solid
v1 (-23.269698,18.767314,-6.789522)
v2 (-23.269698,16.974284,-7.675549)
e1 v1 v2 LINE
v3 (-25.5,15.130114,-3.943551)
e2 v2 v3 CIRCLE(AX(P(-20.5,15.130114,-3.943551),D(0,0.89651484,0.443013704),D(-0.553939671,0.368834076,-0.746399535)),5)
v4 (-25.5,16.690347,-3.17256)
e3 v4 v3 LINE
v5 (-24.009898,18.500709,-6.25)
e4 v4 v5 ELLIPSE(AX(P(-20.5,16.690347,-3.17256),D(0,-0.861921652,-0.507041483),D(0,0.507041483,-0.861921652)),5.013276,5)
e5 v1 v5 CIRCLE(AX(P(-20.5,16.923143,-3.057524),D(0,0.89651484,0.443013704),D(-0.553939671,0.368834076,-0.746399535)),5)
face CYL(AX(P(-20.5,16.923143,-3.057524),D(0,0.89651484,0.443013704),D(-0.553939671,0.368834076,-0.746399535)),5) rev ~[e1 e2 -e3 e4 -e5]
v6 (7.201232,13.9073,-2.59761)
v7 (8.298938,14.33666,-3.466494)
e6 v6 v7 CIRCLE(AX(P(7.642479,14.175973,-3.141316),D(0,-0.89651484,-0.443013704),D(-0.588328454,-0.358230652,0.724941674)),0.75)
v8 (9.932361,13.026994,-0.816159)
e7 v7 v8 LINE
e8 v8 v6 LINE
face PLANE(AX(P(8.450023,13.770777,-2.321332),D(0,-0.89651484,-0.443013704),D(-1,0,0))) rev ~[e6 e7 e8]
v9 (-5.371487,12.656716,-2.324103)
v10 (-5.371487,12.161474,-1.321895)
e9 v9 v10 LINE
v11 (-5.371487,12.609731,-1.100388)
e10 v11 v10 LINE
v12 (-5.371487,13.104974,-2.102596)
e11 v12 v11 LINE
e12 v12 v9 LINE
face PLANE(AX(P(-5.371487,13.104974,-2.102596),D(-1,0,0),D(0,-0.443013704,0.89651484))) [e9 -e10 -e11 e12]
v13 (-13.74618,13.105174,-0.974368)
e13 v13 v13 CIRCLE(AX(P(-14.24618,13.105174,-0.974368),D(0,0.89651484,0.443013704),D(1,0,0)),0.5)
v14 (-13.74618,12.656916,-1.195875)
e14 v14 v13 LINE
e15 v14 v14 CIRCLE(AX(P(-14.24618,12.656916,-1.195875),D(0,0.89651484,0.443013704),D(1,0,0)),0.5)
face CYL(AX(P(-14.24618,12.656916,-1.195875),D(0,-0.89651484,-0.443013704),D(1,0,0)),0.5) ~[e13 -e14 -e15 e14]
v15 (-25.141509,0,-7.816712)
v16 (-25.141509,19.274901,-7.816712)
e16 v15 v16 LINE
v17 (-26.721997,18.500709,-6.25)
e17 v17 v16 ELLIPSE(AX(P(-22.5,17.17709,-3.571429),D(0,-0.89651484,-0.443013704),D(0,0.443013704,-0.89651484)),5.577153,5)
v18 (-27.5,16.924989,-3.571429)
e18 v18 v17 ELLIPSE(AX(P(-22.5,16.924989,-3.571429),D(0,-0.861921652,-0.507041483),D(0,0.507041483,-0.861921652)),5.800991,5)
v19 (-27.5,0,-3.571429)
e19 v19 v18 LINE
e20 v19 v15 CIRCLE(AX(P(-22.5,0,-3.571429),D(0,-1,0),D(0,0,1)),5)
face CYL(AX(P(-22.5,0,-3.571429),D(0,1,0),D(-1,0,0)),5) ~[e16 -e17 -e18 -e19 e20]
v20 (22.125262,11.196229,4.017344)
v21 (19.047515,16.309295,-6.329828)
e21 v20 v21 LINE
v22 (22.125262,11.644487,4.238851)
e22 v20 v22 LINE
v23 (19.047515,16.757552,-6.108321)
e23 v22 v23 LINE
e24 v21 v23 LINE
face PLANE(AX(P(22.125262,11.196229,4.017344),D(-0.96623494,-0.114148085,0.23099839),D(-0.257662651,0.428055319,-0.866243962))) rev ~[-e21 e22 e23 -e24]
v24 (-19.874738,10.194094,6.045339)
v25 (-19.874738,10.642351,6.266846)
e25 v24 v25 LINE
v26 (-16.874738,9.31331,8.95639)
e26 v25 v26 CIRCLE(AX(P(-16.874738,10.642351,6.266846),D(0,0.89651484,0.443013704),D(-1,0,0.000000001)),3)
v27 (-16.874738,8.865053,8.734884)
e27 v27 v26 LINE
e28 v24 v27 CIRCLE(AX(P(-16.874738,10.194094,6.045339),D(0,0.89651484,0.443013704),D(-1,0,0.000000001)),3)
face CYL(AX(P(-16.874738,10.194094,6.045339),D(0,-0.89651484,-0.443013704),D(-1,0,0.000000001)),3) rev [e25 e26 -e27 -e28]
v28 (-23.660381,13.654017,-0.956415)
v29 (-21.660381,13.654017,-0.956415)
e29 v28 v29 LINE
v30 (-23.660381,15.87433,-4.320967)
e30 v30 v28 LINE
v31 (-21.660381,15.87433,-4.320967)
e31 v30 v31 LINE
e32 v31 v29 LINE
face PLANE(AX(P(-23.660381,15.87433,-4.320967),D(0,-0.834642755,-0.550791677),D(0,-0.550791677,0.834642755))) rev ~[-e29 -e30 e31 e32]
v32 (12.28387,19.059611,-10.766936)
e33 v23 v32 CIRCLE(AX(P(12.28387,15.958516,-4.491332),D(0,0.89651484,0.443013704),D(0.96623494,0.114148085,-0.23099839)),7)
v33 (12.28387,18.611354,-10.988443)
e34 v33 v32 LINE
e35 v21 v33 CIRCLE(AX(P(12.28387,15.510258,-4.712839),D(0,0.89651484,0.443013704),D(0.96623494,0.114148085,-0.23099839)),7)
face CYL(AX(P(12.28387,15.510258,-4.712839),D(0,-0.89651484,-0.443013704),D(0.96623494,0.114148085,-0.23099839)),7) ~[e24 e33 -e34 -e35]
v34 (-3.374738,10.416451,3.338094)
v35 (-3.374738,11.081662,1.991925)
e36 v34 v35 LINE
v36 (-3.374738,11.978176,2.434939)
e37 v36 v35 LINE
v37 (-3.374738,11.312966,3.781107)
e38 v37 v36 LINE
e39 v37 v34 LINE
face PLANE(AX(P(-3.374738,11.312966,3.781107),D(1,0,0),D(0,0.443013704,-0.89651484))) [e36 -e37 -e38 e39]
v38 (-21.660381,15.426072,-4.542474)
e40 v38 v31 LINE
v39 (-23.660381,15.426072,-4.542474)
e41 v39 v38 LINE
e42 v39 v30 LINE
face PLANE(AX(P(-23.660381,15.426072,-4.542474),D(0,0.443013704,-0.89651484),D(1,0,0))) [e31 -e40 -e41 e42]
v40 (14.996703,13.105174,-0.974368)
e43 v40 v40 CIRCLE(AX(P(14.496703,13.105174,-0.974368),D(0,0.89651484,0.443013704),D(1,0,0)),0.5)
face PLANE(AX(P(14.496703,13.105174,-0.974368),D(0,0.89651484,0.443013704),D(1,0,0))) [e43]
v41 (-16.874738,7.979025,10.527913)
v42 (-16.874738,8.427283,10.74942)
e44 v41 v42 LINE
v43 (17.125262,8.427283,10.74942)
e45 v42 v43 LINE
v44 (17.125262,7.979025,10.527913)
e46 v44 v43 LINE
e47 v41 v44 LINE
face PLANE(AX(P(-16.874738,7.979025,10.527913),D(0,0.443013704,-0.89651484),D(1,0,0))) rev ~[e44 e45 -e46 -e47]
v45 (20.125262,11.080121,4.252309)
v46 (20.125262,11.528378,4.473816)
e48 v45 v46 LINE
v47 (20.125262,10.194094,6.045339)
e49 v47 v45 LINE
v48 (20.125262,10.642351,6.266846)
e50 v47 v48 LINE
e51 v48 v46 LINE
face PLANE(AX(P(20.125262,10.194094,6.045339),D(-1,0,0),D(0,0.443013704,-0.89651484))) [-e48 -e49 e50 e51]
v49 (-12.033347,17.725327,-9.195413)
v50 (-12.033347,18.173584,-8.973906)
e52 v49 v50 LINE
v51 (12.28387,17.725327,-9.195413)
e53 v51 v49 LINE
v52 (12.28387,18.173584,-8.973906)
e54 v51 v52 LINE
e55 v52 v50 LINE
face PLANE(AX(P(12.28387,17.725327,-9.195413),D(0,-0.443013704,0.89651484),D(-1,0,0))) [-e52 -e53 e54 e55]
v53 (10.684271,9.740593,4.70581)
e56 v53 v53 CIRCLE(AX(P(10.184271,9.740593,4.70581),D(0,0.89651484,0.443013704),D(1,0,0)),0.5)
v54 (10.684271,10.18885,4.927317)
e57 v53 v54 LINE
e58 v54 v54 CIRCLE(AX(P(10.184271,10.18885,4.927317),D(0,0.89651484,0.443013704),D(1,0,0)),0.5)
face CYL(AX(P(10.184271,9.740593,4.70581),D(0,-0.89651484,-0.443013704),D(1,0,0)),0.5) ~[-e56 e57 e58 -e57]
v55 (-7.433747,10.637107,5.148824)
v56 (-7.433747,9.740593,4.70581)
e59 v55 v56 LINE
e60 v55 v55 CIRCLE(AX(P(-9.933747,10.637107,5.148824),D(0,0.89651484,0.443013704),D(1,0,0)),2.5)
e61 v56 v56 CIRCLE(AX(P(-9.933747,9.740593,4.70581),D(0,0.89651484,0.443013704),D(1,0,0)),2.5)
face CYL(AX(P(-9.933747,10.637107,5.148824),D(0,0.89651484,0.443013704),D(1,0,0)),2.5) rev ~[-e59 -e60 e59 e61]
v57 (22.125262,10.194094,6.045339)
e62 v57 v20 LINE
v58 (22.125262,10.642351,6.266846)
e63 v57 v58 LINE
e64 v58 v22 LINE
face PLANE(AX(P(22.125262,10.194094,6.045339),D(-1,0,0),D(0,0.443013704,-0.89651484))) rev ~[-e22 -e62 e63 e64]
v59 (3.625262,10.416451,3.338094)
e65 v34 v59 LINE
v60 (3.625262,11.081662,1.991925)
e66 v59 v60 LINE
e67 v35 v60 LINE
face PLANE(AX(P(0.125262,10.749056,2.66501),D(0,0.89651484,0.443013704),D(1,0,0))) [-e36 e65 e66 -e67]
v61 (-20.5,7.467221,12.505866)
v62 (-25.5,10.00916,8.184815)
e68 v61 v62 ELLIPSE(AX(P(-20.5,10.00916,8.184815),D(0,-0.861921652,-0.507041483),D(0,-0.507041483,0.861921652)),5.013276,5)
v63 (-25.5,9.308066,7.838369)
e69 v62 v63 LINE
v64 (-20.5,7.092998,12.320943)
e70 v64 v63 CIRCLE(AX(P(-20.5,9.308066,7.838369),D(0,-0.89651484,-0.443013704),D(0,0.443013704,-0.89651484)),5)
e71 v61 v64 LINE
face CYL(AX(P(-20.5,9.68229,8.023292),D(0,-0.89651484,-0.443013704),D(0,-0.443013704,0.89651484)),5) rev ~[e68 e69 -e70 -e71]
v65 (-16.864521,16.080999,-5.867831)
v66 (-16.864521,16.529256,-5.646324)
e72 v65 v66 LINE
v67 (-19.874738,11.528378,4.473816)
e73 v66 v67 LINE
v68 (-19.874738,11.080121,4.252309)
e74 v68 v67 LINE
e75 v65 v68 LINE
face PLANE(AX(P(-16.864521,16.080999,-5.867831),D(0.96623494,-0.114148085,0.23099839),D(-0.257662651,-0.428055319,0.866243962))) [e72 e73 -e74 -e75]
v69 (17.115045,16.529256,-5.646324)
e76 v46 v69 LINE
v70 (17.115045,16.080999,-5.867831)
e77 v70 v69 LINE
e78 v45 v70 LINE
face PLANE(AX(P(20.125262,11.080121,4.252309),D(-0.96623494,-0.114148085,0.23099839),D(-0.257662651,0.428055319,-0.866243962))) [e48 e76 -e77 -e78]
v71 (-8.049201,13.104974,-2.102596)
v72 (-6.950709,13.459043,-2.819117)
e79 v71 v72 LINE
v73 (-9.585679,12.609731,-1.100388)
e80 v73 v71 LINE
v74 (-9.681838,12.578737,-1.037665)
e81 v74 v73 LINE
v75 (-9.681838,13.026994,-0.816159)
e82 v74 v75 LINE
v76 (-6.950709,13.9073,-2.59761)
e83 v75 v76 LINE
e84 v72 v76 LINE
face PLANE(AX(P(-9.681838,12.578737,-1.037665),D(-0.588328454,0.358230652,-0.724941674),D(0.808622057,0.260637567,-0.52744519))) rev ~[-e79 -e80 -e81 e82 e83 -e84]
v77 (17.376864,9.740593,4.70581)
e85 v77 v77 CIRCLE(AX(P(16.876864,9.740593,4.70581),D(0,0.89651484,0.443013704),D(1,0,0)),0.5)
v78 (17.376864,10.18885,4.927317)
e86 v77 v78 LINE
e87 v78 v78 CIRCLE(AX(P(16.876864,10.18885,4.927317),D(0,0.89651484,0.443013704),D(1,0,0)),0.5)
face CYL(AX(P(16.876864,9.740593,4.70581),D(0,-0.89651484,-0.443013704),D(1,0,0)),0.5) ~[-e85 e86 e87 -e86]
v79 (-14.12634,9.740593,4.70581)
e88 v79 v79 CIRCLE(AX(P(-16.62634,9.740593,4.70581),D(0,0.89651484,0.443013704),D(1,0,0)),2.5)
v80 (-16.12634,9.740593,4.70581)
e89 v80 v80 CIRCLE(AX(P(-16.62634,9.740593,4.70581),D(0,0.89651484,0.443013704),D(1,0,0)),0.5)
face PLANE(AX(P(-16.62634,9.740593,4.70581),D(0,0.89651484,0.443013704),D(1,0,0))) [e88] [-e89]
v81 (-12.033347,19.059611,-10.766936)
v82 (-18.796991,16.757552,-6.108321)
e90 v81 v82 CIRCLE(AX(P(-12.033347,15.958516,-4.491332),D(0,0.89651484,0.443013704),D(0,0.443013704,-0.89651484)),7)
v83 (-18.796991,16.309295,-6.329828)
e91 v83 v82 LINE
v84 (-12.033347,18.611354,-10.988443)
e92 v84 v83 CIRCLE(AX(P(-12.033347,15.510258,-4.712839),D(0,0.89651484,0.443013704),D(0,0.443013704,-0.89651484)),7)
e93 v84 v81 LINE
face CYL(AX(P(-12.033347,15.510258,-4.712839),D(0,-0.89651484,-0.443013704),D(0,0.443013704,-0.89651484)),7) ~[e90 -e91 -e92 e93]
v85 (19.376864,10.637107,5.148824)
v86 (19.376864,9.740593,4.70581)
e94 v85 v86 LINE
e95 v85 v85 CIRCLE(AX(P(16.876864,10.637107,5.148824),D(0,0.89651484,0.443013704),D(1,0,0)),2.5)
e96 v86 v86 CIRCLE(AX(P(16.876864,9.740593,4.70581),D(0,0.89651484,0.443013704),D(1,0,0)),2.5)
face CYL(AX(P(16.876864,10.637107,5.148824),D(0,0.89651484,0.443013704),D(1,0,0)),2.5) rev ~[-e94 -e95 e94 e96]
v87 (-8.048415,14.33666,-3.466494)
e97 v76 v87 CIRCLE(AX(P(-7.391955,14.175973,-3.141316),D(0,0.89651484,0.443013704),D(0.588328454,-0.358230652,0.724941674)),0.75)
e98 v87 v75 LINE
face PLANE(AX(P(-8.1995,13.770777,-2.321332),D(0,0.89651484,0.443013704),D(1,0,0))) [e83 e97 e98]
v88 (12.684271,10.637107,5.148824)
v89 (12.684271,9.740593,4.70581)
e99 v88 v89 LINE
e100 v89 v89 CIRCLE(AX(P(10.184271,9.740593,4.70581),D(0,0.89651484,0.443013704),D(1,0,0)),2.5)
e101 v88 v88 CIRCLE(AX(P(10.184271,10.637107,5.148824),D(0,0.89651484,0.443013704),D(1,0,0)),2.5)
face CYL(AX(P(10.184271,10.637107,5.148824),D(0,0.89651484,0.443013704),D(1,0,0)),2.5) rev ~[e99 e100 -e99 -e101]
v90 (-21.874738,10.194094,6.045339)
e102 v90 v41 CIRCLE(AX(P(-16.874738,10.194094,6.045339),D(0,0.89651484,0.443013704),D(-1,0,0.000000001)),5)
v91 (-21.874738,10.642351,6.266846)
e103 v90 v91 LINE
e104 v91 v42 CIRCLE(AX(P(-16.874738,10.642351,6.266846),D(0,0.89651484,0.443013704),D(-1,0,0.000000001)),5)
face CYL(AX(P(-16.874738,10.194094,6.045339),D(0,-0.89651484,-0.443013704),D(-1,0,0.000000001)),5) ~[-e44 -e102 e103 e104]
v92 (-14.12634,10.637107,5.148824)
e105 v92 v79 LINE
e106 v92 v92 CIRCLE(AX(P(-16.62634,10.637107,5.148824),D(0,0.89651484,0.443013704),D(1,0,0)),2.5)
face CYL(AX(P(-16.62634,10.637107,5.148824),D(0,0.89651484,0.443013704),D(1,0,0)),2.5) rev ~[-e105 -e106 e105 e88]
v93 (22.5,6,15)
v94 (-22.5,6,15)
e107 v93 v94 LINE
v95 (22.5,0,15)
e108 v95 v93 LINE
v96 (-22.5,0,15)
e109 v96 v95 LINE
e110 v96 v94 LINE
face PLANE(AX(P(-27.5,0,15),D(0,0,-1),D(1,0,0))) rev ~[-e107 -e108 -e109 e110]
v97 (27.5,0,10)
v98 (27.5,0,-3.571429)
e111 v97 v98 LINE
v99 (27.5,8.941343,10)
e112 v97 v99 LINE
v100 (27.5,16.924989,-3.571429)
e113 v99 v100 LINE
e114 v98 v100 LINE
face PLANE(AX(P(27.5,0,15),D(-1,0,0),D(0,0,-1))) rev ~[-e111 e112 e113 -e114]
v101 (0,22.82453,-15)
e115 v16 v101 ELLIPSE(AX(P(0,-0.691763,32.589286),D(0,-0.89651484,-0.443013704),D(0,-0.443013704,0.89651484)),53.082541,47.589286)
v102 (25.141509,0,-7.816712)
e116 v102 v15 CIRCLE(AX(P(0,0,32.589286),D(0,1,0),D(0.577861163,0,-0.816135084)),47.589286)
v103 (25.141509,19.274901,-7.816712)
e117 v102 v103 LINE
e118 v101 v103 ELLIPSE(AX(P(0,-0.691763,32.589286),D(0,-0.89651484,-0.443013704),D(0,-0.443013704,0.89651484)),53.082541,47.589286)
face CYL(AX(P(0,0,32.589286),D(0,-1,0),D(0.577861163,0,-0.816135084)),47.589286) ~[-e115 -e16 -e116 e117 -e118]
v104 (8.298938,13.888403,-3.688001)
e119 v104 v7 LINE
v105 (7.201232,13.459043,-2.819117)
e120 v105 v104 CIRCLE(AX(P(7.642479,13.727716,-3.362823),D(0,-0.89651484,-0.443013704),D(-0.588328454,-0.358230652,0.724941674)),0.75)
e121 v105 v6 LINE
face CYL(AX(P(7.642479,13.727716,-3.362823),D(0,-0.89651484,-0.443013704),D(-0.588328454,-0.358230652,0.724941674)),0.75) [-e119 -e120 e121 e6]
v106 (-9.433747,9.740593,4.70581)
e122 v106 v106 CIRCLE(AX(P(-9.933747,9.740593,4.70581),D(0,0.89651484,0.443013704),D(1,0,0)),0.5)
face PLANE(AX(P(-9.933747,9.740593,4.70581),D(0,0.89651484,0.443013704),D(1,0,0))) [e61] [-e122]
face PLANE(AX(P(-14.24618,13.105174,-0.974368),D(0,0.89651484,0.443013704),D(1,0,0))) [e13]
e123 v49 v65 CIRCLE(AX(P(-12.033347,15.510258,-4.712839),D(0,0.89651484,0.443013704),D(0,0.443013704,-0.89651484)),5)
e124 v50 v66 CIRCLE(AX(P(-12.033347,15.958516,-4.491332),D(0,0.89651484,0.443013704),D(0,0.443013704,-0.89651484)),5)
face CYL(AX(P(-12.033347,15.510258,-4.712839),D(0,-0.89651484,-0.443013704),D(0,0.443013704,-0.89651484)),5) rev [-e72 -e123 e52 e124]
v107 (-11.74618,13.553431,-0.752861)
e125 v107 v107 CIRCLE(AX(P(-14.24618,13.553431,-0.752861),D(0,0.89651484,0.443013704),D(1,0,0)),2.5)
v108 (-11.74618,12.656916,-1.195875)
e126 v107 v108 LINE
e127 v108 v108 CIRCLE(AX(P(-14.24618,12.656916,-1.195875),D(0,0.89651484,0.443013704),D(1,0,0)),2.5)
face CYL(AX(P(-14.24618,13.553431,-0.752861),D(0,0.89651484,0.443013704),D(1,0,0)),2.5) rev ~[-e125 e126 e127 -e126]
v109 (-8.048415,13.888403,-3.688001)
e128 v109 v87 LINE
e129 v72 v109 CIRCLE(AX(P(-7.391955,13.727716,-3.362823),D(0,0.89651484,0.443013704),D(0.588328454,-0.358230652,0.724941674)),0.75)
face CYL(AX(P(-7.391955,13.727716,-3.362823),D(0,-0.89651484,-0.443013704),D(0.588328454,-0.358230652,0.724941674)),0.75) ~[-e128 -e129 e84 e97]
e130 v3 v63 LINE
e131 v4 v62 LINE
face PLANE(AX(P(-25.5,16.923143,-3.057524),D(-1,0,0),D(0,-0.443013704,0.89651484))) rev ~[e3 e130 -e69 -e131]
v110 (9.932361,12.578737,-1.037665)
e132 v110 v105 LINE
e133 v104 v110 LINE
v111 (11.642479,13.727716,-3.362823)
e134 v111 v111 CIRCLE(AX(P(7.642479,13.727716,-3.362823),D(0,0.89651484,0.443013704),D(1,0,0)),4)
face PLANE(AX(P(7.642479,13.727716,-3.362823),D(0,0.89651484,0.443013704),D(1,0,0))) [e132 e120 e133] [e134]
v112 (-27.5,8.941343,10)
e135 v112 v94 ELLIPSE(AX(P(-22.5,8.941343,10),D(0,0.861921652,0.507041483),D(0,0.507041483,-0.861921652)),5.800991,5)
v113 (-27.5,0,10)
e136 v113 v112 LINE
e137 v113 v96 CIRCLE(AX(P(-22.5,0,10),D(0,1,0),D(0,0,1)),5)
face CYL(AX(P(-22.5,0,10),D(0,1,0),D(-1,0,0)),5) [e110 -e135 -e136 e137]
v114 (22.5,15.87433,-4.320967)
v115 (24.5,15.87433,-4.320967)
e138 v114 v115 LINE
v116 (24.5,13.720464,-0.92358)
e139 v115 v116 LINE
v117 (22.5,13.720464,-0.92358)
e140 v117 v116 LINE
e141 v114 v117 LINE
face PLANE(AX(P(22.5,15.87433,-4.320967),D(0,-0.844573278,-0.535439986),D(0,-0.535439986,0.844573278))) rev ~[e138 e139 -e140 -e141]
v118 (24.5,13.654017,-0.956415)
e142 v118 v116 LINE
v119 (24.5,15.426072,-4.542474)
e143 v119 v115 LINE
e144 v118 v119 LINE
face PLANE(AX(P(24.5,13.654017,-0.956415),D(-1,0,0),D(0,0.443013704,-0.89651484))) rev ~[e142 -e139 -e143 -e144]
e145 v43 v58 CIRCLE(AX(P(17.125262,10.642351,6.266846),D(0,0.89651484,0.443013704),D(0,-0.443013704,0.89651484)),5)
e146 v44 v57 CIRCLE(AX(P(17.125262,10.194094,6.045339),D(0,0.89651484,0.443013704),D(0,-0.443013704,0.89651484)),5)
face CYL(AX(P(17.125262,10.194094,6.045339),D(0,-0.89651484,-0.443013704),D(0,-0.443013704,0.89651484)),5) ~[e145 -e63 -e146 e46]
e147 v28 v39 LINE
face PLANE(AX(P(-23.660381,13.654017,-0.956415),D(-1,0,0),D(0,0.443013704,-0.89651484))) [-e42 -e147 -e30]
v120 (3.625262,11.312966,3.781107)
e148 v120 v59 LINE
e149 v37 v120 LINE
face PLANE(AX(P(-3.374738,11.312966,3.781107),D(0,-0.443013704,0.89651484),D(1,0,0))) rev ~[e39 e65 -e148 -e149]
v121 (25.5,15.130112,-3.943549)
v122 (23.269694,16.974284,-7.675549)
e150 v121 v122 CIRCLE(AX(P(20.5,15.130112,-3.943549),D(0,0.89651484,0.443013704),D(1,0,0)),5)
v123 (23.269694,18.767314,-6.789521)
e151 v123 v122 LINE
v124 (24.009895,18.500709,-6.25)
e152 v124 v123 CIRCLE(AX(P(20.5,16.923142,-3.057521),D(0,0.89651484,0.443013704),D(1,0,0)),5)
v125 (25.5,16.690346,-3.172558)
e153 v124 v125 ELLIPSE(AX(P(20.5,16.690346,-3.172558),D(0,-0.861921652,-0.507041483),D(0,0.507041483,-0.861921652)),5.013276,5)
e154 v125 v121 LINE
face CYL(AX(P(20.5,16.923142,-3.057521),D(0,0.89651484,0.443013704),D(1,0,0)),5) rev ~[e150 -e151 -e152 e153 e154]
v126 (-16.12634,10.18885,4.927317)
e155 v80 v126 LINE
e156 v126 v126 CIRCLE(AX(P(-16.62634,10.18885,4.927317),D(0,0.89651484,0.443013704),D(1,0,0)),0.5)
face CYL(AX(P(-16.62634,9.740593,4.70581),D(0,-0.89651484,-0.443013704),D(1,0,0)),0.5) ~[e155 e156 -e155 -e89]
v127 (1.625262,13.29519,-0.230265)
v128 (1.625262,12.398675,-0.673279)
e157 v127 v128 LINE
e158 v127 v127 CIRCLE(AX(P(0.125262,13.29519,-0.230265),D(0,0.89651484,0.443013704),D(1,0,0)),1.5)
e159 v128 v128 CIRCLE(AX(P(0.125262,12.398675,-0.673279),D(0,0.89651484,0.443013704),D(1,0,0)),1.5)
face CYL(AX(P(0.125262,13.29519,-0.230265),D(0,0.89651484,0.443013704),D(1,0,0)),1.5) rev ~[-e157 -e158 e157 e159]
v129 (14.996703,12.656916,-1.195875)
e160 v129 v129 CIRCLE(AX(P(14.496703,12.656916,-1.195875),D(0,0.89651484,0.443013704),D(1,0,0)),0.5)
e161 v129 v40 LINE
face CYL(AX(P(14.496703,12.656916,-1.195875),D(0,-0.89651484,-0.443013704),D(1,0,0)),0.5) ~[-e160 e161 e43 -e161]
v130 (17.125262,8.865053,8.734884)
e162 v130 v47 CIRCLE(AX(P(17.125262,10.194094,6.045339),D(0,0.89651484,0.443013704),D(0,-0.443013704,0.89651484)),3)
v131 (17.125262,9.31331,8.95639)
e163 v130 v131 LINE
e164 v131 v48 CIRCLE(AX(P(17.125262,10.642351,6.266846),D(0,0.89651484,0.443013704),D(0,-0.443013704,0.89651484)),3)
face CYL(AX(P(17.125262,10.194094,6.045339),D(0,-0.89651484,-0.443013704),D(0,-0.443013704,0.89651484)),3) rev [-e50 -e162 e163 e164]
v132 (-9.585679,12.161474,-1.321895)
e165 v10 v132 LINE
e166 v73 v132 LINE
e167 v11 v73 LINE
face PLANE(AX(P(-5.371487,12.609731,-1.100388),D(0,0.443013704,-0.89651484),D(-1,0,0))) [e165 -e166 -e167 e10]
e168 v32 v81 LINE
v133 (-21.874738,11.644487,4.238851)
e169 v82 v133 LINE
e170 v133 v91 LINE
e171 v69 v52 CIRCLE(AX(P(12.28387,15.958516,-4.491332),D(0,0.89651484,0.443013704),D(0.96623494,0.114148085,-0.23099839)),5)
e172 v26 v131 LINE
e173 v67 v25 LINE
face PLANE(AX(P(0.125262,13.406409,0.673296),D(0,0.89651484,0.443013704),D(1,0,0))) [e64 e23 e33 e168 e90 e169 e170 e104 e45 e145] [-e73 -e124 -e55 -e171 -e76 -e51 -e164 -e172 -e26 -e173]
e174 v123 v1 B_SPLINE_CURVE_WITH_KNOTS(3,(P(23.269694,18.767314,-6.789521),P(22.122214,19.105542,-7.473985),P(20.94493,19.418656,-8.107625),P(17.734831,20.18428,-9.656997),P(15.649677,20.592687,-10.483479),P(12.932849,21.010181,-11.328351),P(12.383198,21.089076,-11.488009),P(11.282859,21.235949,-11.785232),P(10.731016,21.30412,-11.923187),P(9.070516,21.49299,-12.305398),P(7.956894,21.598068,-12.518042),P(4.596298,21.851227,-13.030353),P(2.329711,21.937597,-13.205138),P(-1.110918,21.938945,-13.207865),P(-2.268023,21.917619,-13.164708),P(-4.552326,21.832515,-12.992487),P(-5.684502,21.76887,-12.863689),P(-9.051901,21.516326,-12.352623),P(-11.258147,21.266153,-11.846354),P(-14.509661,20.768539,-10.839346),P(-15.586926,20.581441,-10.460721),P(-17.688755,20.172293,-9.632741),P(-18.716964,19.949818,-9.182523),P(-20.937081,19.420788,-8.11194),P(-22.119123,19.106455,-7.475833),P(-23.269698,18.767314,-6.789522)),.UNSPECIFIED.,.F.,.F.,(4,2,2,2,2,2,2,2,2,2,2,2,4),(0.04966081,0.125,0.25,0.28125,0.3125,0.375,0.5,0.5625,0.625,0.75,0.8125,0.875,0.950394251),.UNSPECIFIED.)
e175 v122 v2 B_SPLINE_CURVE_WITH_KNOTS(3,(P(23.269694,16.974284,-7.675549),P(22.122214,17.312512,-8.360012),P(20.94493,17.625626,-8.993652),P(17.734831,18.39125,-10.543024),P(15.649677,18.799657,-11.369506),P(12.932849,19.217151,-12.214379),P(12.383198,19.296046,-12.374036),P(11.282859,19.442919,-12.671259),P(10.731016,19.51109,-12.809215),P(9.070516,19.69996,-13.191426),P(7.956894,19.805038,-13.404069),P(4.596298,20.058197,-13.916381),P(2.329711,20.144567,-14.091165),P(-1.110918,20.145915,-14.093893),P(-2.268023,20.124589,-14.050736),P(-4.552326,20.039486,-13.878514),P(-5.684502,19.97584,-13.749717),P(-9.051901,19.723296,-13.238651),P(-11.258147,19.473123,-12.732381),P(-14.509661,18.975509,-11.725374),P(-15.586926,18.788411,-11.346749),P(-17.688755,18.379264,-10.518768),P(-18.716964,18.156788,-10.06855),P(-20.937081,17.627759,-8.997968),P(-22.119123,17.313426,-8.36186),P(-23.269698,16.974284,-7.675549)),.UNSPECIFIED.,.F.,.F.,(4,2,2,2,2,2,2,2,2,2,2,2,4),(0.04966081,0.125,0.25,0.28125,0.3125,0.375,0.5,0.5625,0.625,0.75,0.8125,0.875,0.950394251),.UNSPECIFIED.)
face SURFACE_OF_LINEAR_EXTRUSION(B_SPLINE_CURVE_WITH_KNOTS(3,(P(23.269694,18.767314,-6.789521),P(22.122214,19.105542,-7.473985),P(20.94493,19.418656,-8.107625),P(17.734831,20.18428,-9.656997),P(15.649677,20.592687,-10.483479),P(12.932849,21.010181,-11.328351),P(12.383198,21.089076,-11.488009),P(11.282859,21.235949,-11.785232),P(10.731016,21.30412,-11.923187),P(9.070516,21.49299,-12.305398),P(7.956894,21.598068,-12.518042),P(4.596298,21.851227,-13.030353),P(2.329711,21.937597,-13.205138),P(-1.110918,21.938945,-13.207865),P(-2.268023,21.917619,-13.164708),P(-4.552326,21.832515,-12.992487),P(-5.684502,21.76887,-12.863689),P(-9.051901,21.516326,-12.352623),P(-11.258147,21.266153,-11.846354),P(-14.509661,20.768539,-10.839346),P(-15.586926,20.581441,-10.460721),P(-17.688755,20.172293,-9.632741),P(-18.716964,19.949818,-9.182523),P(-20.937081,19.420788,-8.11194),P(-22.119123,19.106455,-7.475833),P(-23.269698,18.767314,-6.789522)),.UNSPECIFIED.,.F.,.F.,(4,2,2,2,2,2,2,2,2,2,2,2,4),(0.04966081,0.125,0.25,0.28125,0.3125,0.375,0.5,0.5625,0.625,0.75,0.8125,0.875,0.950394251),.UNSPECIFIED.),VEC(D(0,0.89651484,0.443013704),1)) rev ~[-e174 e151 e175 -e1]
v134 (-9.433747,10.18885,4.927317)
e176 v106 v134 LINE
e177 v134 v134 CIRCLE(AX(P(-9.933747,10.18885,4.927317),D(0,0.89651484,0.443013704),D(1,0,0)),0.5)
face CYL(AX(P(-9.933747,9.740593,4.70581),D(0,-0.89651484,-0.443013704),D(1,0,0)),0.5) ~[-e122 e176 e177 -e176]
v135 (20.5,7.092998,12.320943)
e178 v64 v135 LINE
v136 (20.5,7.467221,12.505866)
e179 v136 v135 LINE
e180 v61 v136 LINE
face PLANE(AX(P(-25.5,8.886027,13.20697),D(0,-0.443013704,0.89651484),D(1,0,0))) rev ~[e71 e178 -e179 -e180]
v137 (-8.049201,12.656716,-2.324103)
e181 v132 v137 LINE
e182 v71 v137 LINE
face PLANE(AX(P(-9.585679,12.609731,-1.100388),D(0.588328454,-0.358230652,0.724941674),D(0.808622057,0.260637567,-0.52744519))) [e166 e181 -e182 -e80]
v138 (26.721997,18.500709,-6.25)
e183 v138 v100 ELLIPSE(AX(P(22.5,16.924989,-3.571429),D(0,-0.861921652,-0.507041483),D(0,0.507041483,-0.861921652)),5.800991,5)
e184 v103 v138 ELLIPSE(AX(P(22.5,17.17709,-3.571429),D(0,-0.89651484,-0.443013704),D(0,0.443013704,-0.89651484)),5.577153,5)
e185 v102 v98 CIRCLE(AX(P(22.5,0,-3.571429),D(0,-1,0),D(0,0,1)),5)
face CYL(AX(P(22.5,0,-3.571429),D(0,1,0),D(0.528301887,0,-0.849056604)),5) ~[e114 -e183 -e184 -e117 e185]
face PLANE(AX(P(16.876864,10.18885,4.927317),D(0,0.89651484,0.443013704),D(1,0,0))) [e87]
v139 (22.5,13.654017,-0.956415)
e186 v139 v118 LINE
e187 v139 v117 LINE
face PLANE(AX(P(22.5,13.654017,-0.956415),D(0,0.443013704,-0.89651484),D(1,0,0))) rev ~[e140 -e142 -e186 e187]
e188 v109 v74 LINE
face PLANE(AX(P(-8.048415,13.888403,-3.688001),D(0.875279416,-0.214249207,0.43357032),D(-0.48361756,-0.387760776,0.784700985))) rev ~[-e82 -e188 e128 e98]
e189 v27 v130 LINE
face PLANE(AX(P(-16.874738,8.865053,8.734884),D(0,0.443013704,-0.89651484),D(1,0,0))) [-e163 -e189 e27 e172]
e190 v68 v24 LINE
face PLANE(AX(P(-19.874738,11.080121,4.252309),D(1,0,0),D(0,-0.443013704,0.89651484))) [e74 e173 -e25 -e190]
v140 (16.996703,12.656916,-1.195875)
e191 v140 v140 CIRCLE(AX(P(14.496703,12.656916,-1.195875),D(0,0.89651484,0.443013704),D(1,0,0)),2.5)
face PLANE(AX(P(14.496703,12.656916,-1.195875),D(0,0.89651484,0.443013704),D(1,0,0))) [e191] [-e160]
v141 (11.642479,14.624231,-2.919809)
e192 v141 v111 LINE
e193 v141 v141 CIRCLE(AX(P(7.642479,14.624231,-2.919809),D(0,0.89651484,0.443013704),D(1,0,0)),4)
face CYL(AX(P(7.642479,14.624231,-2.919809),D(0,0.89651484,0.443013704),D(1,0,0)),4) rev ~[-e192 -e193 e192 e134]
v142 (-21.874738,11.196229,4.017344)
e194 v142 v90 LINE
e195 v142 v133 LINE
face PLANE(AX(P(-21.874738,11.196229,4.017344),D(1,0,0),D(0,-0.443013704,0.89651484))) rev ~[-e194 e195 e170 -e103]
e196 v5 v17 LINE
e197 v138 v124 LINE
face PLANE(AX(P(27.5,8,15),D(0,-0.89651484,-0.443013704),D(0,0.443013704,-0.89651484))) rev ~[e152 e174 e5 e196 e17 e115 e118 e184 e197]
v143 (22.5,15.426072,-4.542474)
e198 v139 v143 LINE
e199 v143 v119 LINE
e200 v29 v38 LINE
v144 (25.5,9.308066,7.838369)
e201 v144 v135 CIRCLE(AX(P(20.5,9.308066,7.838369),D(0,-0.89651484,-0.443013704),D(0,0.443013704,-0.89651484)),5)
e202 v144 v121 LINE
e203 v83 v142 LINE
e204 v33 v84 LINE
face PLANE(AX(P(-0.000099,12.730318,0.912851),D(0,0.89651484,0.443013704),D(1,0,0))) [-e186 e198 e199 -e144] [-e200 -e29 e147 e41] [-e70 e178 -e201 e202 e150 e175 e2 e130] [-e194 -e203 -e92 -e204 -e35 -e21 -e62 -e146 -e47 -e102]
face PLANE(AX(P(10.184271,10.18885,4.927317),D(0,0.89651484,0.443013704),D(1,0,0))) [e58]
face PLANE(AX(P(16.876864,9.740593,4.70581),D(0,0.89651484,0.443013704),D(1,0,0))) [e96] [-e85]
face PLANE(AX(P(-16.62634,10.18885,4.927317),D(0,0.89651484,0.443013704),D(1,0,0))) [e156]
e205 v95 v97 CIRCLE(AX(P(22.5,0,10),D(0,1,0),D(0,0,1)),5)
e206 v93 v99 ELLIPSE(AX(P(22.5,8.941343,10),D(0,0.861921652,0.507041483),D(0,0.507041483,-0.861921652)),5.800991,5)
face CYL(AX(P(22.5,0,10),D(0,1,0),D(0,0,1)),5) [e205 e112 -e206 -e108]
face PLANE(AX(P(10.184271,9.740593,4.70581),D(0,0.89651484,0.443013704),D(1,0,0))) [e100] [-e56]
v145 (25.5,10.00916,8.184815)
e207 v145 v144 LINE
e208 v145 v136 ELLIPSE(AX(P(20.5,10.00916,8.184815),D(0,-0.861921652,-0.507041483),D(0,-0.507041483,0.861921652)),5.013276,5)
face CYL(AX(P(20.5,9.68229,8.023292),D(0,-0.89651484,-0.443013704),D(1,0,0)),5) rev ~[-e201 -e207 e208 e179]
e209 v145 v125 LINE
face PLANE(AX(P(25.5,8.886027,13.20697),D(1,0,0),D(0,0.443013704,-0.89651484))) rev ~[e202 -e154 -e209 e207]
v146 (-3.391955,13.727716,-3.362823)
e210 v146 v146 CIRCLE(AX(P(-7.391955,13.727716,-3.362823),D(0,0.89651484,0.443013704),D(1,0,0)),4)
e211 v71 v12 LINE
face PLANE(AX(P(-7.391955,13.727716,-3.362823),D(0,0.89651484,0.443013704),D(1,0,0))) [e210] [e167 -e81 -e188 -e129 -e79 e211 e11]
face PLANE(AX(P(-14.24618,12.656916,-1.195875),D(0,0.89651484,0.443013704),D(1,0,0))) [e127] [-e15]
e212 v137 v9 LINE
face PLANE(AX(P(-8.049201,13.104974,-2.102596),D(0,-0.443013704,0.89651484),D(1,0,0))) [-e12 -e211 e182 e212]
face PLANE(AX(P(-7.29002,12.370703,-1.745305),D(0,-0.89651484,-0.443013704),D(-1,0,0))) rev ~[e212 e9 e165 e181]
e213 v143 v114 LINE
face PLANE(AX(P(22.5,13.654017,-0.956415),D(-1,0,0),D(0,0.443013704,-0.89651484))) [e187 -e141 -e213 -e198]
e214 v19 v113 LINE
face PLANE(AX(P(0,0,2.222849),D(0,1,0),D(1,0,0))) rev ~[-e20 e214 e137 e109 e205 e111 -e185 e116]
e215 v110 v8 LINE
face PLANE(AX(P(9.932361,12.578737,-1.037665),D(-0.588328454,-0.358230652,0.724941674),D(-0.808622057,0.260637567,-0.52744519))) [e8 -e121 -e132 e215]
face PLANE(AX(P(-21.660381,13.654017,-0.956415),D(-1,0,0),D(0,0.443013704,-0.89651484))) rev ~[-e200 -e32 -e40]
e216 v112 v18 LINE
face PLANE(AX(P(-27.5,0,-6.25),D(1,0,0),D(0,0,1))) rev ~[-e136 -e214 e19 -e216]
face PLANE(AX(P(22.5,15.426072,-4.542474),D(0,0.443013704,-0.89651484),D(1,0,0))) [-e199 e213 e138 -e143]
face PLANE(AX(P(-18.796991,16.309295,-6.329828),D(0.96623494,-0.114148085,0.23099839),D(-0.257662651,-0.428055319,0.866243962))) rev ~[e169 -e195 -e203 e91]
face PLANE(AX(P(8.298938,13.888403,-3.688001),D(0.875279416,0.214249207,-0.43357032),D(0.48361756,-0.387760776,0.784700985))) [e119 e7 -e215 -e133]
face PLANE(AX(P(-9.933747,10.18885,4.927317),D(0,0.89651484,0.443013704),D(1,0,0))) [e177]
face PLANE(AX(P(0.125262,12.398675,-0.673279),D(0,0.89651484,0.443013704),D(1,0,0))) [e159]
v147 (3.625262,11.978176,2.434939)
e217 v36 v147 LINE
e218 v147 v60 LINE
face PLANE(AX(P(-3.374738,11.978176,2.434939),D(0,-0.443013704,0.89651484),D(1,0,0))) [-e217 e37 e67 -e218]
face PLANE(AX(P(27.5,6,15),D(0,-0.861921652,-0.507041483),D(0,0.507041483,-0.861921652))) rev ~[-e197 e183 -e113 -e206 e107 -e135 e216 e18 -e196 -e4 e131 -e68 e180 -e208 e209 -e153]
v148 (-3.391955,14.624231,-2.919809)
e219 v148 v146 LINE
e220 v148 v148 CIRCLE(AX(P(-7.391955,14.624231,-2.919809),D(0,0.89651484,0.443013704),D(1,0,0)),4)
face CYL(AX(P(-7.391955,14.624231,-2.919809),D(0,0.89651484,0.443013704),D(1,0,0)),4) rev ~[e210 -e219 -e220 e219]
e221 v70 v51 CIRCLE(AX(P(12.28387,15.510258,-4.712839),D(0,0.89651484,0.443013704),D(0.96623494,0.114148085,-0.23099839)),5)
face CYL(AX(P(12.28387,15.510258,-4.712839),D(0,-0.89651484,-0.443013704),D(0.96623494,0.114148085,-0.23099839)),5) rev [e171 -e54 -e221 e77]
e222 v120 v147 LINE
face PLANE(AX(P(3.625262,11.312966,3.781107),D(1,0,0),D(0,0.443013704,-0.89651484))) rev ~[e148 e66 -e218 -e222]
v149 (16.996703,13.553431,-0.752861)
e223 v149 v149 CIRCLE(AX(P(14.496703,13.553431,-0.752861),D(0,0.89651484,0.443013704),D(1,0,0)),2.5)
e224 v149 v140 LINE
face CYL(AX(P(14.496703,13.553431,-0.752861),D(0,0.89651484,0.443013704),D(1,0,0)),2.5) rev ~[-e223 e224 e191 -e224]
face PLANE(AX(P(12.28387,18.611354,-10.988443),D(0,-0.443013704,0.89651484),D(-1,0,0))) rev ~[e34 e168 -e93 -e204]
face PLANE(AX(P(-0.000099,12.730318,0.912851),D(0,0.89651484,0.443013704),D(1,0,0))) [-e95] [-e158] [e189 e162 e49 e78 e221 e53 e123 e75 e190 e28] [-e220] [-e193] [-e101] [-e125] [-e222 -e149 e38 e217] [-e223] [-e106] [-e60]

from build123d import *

# Parameters (mm, degrees)
BOSS_EXTRUDE1_DEPTH = 25
CUT_EXTRUDE1_DEPTH  = 56
CUT_EXTRUDE2_DEPTH  = 2
CUT_EXTRUDE3_DEPTH  = 56.0000001
BOSS_EXTRUDE2_DEPTH = 0.5
FILLET2_R           = 5
FILLET4_R           = 5
FILLET5_R           = 5
SKETCH6_R           = 4
SKETCH6_R_2         = 2.5
SKETCH6_R_3         = 1.5
SKETCH6_W           = 7
SKETCH6_H           = 1.501556971
CUT_EXTRUDE4_DEPTH  = 1
BOSS_EXTRUDE3_DEPTH = 0.5
SKETCH8_R           = 0.5
BOSS_EXTRUDE4_DEPTH = 0.5
CUT_EXTRUDE5_DEPTH  = 0.5
SKETCH10_W          = 2
SKETCH10_H          = 4
BOSS_EXTRUDE5_DEPTH = 0.5
CUT_EXTRUDE6_DEPTH  = 2
CUT_EXTRUDE7_DEPTH  = 2


with BuildPart() as part:
    # Sketch1 → Boss-Extrude1 (new body)
    with BuildSketch(Plane(origin=(0, 0, 0), x_dir=(1, 0, 0), z_dir=(0, 1, 0))):
        with BuildLine():
            Line((-27.5, 6.25), (-27.5, -15))
            Line((-27.5, -15), (27.5, -15))
            Line((27.5, -15), (27.5, 6.25))
            ThreePointArc((27.5, 6.25), (0, 15), (-27.5, 6.25))
        make_face()
    extrude(amount=BOSS_EXTRUDE1_DEPTH)

    # Sketch2 → Cut-Extrude1 (cut, through all)
    with BuildSketch(Plane(origin=(27.5, 0, 0), x_dir=(0, 0, -1), z_dir=(1, 0, 0))):
        Polygon((-15, 8), (15, 22.824529963), (15, 25), (-15, 25), align=None)
    extrude(amount=-CUT_EXTRUDE1_DEPTH, mode=Mode.SUBTRACT)

    # Sketch3 → Cut-Extrude2 (cut)
    with BuildSketch(Plane(origin=(0, 12.387436262, 6.121264001), x_dir=(1, 0, 0), z_dir=(0, 0.89651484, 0.443013704))):
        with BuildLine():
            Line((-25.5, 10.23830007), (-25.5, -7.903612972))
            Line((-25.5, -7.903612972), (25.5, -7.903612972))
            Line((25.5, -7.903612972), (25.5, 10.238296947))
            ThreePointArc((25.5, 10.238296947), (24.907293379, 12.599602744), (23.269693973, 14.40108391))
            add(Edge.make_bspline(
                [(23.269693973, 14.40108391), (22.122214348, 15.164554976), (20.94493023, 15.871336285), (17.734831315, 17.599553604), (15.649676942, 18.521436915), (12.93284925, 19.463833346), (12.383197637, 19.641920344), (11.282858983, 19.973451503), (10.731016127, 20.127331411), (9.070515859, 20.553661297), (7.956893593, 20.790850084), (4.596297841, 21.362298201), (2.329710672, 21.557257961), (-1.110917839, 21.560300401), (-2.268023373, 21.512162029), (-4.552325625, 21.320060503), (-5.684502339, 21.176395804), (-9.051900597, 20.606337494), (-11.258147255, 20.041629121), (-14.509660741, 18.918382275), (-15.58692593, 18.496052007), (-17.688755449, 17.572497213), (-18.716963562, 17.07031031), (-20.937080939, 15.876150048), (-22.119122989, 15.166616669), (-23.269698352, 14.40108412)],
                knots=[0.04966081, 0.04966081, 0.04966081, 0.04966081, 0.125, 0.125, 0.25, 0.25, 0.28125, 0.28125, 0.3125, 0.3125, 0.375, 0.375, 0.5, 0.5, 0.5625, 0.5625, 0.625, 0.625, 0.75, 0.75, 0.8125, 0.8125, 0.875, 0.875, 0.950394251, 0.950394251, 0.950394251, 0.950394251], degree=3))
            ThreePointArc((-23.269698352, 14.40108412), (-24.907294621, 12.599603549), (-25.5, 10.23830007))
        make_face()
    extrude(amount=-CUT_EXTRUDE2_DEPTH, mode=Mode.SUBTRACT)

    # Sketch4 → Cut-Extrude3 (cut, through all)
    with BuildSketch(Plane(origin=(27.5, 0, 0), x_dir=(0, 0, -1), z_dir=(1, 0, 0))):
        Polygon((-15, 8), (-15, 6), (6.25, 18.500708724), align=None)
    extrude(amount=-CUT_EXTRUDE3_DEPTH, mode=Mode.SUBTRACT)

    # Sketch5 → Boss-Extrude2 (add)
    with BuildSketch(Plane(origin=(0, 10.594406582, 5.235236594), x_dir=(1, 0, 0), z_dir=(0, 0.89651484, 0.443013704))):
        with BuildLine():
            Line((-21.874738248, 1.358474377), (-21.874738248, -0.903612972))
            ThreePointArc((-21.874738248, -0.903612972), (-20.410272153, -4.439146877), (-16.874738248, -5.903612972))
            Line((-16.874738248, -5.903612972), (17.125261752, -5.903612972))
            ThreePointArc((17.125261752, -5.903612972), (20.660795658, -4.439146877), (22.125261752, -0.903612972))
            Line((22.125261752, -0.903612972), (22.125261752, 1.358474377))
            Line((22.125261752, 1.358474377), (19.047514764, 12.900025582))
            ThreePointArc((19.047514764, 12.900025582), (16.54852317, 16.647309018), (12.283870187, 18.096387028))
            Line((12.283870187, 18.096387028), (-12.033346682, 18.096387028))
            ThreePointArc((-12.033346682, 18.096387028), (-16.297999665, 16.647309018), (-18.796991259, 12.900025582))
            Line((-18.796991259, 12.900025582), (-21.874738248, 1.358474377))
        make_face()
        with BuildLine():
            Line((-16.874738248, -3.903612972), (17.125261752, -3.903612972))
            ThreePointArc((17.125261752, -3.903612972), (19.246582096, -3.024933315), (20.125261752, -0.903612972))
            Line((20.125261752, -0.903612972), (20.125261752, 1.096387028))
            Line((20.125261752, 1.096387028), (17.115044885, 12.384700281))
            ThreePointArc((17.115044885, 12.384700281), (15.330050889, 15.061331307), (12.283870187, 16.096387028))
            Line((12.283870187, 16.096387028), (-12.033346682, 16.096387028))
            ThreePointArc((-12.033346682, 16.096387028), (-15.079527384, 15.061331307), (-16.86452138, 12.384700281))
            Line((-16.86452138, 12.384700281), (-19.874738248, 1.096387028))
            Line((-19.874738248, 1.096387028), (-19.874738248, -0.903612972))
            ThreePointArc((-19.874738248, -0.903612972), (-18.996058591, -3.024933315), (-16.874738248, -3.903612972))
        make_face(mode=Mode.SUBTRACT)
    extrude(amount=BOSS_EXTRUDE2_DEPTH)

    # Fillet2
    fillet2_edges = [part.edges().sort_by_distance(p)[0] for p in [
        (-27.5, 9.250354362, -6.25),
        (27.5, 9.250354362, -6.25),
    ]]
    fillet(fillet2_edges, radius=FILLET2_R)

    # Fillet4
    fillet4_edges = [part.edges().sort_by_distance(p)[0] for p in [
        (27.5, 3, 15),
        (-27.5, 3, 15),
    ]]
    fillet(fillet4_edges, radius=FILLET4_R)

    # Fillet5
    fillet5_edges = [part.edges().sort_by_distance(p)[0] for p in [
        (25.5, 7.280109363, 12.413404314),
        (-25.5, 7.280109363, 12.413404314),
    ]]
    fillet(fillet5_edges, radius=FILLET5_R)

    # Sketch6 → Cut-Extrude4 (cut)
    with BuildSketch(Plane(origin=(0, 10.594406582, 5.235236594), x_dir=(1, 0, 0), z_dir=(0, 0.89651484, 0.443013704))):
        with Locations((-7.391955117, 9.096387028)):
            Circle(SKETCH6_R)
        with Locations((7.642478622, 9.096387028)):
            Circle(SKETCH6_R)
        with Locations((-14.246179645, 6.679307091)):
            Circle(SKETCH6_R_2)
        with Locations((-16.626340028, 0.096387028)):
            Circle(SKETCH6_R_2)
        with Locations((-9.933747273, 0.096387028)):
            Circle(SKETCH6_R_2)
        with Locations((10.184270778, 0.096387028)):
            Circle(SKETCH6_R_2)
        with Locations((16.876863533, 0.096387028)):
            Circle(SKETCH6_R_2)
        with Locations((14.49670315, 6.679307091)):
            Circle(SKETCH6_R_2)
        with Locations((0.125261752, 6.096387028)):
            Circle(SKETCH6_R_3)
        with Locations((0.125261752, 2.372758697)):
            Rectangle(SKETCH6_W, SKETCH6_H)
    extrude(amount=-CUT_EXTRUDE4_DEPTH, mode=Mode.SUBTRACT)

    # Sketch7 → Boss-Extrude3 (add)
    with BuildSketch(Plane(origin=(0, 9.697891742, 4.79222289), x_dir=(1, 0, 0), z_dir=(0, 0.89651484, 0.443013704))):
        with BuildLine():
            Line((-8.048414678, 9.459100199), (-9.681837773, 6.502835312))
            Line((-9.681837773, 6.502835312), (-6.950708776, 8.489920486))
            ThreePointArc((-6.950708776, 8.489920486), (-6.895561612, 9.65860895), (-8.048414678, 9.459100199))
        make_face()
        with BuildLine():
            Line((8.298938183, 9.459100199), (9.932361278, 6.502835312))
            Line((9.932361278, 6.502835312), (7.201232281, 8.489920486))
            ThreePointArc((7.201232281, 8.489920486), (7.146085117, 9.65860895), (8.298938183, 9.459100199))
        make_face()
    extrude(amount=BOSS_EXTRUDE3_DEPTH)

    # Sketch8 → Boss-Extrude4 (add)
    with BuildSketch(Plane(origin=(0, 9.697891742, 4.79222289), x_dir=(1, 0, 0), z_dir=(0, 0.89651484, 0.443013704))):
        with Locations((-14.246179645, 6.679307091)):
            Circle(SKETCH8_R)
        with Locations((-16.626340028, 0.096387028)):
            Circle(SKETCH8_R)
        with Locations((-9.933747273, 0.096387028)):
            Circle(SKETCH8_R)
        with Locations((14.49670315, 6.679307091)):
            Circle(SKETCH8_R)
        with Locations((10.184270778, 0.096387028)):
            Circle(SKETCH8_R)
        with Locations((16.876863533, 0.096387028)):
            Circle(SKETCH8_R)
    extrude(amount=BOSS_EXTRUDE4_DEPTH)

    # Sketch9 → Cut-Extrude5 (cut)
    with BuildSketch(Plane(origin=(0, 9.697891742, 4.79222289), x_dir=(1, 0, 0), z_dir=(0, 0.89651484, 0.443013704))):
        Polygon((-9.58567888, 6.572797555), (-8.049200513, 7.690691798), (-5.371486784, 7.690691798), (-5.371486784, 6.572797555), align=None)
    extrude(amount=-CUT_EXTRUDE5_DEPTH, mode=Mode.SUBTRACT)

    # Sketch10 → Boss-Extrude5 (add)
    with BuildSketch(Plane(origin=(0, 10.594406582, 5.235236594), x_dir=(1, 0, 0), z_dir=(0, 0.89651484, 0.443013704))):
        with Locations((-22.660381166, 8.906356756)):
            Rectangle(SKETCH10_W, SKETCH10_H)
        with Locations((23.5, 8.906356756)):
            Rectangle(SKETCH10_W, SKETCH10_H)
    extrude(amount=BOSS_EXTRUDE5_DEPTH)

    # Sketch11 → Cut-Extrude6 (cut)
    with BuildSketch(Plane.ZY.offset(-22.5)):
        Polygon((-4.320967236, 15.874329501), (-0.923579886, 13.720464249), (-0.734907876, 14.102274687), align=None)
    extrude(amount=-CUT_EXTRUDE6_DEPTH, mode=Mode.SUBTRACT)

    # Sketch12 → Cut-Extrude7 (cut)
    with BuildSketch(Plane.ZY.offset(23.660381166)):
        Polygon((-4.320967236, 15.874329501), (-0.956414728, 13.654017267), (-0.734907876, 14.102274687), align=None)
    extrude(amount=-CUT_EXTRUDE7_DEPTH, mode=Mode.SUBTRACT)


solid = part.part
